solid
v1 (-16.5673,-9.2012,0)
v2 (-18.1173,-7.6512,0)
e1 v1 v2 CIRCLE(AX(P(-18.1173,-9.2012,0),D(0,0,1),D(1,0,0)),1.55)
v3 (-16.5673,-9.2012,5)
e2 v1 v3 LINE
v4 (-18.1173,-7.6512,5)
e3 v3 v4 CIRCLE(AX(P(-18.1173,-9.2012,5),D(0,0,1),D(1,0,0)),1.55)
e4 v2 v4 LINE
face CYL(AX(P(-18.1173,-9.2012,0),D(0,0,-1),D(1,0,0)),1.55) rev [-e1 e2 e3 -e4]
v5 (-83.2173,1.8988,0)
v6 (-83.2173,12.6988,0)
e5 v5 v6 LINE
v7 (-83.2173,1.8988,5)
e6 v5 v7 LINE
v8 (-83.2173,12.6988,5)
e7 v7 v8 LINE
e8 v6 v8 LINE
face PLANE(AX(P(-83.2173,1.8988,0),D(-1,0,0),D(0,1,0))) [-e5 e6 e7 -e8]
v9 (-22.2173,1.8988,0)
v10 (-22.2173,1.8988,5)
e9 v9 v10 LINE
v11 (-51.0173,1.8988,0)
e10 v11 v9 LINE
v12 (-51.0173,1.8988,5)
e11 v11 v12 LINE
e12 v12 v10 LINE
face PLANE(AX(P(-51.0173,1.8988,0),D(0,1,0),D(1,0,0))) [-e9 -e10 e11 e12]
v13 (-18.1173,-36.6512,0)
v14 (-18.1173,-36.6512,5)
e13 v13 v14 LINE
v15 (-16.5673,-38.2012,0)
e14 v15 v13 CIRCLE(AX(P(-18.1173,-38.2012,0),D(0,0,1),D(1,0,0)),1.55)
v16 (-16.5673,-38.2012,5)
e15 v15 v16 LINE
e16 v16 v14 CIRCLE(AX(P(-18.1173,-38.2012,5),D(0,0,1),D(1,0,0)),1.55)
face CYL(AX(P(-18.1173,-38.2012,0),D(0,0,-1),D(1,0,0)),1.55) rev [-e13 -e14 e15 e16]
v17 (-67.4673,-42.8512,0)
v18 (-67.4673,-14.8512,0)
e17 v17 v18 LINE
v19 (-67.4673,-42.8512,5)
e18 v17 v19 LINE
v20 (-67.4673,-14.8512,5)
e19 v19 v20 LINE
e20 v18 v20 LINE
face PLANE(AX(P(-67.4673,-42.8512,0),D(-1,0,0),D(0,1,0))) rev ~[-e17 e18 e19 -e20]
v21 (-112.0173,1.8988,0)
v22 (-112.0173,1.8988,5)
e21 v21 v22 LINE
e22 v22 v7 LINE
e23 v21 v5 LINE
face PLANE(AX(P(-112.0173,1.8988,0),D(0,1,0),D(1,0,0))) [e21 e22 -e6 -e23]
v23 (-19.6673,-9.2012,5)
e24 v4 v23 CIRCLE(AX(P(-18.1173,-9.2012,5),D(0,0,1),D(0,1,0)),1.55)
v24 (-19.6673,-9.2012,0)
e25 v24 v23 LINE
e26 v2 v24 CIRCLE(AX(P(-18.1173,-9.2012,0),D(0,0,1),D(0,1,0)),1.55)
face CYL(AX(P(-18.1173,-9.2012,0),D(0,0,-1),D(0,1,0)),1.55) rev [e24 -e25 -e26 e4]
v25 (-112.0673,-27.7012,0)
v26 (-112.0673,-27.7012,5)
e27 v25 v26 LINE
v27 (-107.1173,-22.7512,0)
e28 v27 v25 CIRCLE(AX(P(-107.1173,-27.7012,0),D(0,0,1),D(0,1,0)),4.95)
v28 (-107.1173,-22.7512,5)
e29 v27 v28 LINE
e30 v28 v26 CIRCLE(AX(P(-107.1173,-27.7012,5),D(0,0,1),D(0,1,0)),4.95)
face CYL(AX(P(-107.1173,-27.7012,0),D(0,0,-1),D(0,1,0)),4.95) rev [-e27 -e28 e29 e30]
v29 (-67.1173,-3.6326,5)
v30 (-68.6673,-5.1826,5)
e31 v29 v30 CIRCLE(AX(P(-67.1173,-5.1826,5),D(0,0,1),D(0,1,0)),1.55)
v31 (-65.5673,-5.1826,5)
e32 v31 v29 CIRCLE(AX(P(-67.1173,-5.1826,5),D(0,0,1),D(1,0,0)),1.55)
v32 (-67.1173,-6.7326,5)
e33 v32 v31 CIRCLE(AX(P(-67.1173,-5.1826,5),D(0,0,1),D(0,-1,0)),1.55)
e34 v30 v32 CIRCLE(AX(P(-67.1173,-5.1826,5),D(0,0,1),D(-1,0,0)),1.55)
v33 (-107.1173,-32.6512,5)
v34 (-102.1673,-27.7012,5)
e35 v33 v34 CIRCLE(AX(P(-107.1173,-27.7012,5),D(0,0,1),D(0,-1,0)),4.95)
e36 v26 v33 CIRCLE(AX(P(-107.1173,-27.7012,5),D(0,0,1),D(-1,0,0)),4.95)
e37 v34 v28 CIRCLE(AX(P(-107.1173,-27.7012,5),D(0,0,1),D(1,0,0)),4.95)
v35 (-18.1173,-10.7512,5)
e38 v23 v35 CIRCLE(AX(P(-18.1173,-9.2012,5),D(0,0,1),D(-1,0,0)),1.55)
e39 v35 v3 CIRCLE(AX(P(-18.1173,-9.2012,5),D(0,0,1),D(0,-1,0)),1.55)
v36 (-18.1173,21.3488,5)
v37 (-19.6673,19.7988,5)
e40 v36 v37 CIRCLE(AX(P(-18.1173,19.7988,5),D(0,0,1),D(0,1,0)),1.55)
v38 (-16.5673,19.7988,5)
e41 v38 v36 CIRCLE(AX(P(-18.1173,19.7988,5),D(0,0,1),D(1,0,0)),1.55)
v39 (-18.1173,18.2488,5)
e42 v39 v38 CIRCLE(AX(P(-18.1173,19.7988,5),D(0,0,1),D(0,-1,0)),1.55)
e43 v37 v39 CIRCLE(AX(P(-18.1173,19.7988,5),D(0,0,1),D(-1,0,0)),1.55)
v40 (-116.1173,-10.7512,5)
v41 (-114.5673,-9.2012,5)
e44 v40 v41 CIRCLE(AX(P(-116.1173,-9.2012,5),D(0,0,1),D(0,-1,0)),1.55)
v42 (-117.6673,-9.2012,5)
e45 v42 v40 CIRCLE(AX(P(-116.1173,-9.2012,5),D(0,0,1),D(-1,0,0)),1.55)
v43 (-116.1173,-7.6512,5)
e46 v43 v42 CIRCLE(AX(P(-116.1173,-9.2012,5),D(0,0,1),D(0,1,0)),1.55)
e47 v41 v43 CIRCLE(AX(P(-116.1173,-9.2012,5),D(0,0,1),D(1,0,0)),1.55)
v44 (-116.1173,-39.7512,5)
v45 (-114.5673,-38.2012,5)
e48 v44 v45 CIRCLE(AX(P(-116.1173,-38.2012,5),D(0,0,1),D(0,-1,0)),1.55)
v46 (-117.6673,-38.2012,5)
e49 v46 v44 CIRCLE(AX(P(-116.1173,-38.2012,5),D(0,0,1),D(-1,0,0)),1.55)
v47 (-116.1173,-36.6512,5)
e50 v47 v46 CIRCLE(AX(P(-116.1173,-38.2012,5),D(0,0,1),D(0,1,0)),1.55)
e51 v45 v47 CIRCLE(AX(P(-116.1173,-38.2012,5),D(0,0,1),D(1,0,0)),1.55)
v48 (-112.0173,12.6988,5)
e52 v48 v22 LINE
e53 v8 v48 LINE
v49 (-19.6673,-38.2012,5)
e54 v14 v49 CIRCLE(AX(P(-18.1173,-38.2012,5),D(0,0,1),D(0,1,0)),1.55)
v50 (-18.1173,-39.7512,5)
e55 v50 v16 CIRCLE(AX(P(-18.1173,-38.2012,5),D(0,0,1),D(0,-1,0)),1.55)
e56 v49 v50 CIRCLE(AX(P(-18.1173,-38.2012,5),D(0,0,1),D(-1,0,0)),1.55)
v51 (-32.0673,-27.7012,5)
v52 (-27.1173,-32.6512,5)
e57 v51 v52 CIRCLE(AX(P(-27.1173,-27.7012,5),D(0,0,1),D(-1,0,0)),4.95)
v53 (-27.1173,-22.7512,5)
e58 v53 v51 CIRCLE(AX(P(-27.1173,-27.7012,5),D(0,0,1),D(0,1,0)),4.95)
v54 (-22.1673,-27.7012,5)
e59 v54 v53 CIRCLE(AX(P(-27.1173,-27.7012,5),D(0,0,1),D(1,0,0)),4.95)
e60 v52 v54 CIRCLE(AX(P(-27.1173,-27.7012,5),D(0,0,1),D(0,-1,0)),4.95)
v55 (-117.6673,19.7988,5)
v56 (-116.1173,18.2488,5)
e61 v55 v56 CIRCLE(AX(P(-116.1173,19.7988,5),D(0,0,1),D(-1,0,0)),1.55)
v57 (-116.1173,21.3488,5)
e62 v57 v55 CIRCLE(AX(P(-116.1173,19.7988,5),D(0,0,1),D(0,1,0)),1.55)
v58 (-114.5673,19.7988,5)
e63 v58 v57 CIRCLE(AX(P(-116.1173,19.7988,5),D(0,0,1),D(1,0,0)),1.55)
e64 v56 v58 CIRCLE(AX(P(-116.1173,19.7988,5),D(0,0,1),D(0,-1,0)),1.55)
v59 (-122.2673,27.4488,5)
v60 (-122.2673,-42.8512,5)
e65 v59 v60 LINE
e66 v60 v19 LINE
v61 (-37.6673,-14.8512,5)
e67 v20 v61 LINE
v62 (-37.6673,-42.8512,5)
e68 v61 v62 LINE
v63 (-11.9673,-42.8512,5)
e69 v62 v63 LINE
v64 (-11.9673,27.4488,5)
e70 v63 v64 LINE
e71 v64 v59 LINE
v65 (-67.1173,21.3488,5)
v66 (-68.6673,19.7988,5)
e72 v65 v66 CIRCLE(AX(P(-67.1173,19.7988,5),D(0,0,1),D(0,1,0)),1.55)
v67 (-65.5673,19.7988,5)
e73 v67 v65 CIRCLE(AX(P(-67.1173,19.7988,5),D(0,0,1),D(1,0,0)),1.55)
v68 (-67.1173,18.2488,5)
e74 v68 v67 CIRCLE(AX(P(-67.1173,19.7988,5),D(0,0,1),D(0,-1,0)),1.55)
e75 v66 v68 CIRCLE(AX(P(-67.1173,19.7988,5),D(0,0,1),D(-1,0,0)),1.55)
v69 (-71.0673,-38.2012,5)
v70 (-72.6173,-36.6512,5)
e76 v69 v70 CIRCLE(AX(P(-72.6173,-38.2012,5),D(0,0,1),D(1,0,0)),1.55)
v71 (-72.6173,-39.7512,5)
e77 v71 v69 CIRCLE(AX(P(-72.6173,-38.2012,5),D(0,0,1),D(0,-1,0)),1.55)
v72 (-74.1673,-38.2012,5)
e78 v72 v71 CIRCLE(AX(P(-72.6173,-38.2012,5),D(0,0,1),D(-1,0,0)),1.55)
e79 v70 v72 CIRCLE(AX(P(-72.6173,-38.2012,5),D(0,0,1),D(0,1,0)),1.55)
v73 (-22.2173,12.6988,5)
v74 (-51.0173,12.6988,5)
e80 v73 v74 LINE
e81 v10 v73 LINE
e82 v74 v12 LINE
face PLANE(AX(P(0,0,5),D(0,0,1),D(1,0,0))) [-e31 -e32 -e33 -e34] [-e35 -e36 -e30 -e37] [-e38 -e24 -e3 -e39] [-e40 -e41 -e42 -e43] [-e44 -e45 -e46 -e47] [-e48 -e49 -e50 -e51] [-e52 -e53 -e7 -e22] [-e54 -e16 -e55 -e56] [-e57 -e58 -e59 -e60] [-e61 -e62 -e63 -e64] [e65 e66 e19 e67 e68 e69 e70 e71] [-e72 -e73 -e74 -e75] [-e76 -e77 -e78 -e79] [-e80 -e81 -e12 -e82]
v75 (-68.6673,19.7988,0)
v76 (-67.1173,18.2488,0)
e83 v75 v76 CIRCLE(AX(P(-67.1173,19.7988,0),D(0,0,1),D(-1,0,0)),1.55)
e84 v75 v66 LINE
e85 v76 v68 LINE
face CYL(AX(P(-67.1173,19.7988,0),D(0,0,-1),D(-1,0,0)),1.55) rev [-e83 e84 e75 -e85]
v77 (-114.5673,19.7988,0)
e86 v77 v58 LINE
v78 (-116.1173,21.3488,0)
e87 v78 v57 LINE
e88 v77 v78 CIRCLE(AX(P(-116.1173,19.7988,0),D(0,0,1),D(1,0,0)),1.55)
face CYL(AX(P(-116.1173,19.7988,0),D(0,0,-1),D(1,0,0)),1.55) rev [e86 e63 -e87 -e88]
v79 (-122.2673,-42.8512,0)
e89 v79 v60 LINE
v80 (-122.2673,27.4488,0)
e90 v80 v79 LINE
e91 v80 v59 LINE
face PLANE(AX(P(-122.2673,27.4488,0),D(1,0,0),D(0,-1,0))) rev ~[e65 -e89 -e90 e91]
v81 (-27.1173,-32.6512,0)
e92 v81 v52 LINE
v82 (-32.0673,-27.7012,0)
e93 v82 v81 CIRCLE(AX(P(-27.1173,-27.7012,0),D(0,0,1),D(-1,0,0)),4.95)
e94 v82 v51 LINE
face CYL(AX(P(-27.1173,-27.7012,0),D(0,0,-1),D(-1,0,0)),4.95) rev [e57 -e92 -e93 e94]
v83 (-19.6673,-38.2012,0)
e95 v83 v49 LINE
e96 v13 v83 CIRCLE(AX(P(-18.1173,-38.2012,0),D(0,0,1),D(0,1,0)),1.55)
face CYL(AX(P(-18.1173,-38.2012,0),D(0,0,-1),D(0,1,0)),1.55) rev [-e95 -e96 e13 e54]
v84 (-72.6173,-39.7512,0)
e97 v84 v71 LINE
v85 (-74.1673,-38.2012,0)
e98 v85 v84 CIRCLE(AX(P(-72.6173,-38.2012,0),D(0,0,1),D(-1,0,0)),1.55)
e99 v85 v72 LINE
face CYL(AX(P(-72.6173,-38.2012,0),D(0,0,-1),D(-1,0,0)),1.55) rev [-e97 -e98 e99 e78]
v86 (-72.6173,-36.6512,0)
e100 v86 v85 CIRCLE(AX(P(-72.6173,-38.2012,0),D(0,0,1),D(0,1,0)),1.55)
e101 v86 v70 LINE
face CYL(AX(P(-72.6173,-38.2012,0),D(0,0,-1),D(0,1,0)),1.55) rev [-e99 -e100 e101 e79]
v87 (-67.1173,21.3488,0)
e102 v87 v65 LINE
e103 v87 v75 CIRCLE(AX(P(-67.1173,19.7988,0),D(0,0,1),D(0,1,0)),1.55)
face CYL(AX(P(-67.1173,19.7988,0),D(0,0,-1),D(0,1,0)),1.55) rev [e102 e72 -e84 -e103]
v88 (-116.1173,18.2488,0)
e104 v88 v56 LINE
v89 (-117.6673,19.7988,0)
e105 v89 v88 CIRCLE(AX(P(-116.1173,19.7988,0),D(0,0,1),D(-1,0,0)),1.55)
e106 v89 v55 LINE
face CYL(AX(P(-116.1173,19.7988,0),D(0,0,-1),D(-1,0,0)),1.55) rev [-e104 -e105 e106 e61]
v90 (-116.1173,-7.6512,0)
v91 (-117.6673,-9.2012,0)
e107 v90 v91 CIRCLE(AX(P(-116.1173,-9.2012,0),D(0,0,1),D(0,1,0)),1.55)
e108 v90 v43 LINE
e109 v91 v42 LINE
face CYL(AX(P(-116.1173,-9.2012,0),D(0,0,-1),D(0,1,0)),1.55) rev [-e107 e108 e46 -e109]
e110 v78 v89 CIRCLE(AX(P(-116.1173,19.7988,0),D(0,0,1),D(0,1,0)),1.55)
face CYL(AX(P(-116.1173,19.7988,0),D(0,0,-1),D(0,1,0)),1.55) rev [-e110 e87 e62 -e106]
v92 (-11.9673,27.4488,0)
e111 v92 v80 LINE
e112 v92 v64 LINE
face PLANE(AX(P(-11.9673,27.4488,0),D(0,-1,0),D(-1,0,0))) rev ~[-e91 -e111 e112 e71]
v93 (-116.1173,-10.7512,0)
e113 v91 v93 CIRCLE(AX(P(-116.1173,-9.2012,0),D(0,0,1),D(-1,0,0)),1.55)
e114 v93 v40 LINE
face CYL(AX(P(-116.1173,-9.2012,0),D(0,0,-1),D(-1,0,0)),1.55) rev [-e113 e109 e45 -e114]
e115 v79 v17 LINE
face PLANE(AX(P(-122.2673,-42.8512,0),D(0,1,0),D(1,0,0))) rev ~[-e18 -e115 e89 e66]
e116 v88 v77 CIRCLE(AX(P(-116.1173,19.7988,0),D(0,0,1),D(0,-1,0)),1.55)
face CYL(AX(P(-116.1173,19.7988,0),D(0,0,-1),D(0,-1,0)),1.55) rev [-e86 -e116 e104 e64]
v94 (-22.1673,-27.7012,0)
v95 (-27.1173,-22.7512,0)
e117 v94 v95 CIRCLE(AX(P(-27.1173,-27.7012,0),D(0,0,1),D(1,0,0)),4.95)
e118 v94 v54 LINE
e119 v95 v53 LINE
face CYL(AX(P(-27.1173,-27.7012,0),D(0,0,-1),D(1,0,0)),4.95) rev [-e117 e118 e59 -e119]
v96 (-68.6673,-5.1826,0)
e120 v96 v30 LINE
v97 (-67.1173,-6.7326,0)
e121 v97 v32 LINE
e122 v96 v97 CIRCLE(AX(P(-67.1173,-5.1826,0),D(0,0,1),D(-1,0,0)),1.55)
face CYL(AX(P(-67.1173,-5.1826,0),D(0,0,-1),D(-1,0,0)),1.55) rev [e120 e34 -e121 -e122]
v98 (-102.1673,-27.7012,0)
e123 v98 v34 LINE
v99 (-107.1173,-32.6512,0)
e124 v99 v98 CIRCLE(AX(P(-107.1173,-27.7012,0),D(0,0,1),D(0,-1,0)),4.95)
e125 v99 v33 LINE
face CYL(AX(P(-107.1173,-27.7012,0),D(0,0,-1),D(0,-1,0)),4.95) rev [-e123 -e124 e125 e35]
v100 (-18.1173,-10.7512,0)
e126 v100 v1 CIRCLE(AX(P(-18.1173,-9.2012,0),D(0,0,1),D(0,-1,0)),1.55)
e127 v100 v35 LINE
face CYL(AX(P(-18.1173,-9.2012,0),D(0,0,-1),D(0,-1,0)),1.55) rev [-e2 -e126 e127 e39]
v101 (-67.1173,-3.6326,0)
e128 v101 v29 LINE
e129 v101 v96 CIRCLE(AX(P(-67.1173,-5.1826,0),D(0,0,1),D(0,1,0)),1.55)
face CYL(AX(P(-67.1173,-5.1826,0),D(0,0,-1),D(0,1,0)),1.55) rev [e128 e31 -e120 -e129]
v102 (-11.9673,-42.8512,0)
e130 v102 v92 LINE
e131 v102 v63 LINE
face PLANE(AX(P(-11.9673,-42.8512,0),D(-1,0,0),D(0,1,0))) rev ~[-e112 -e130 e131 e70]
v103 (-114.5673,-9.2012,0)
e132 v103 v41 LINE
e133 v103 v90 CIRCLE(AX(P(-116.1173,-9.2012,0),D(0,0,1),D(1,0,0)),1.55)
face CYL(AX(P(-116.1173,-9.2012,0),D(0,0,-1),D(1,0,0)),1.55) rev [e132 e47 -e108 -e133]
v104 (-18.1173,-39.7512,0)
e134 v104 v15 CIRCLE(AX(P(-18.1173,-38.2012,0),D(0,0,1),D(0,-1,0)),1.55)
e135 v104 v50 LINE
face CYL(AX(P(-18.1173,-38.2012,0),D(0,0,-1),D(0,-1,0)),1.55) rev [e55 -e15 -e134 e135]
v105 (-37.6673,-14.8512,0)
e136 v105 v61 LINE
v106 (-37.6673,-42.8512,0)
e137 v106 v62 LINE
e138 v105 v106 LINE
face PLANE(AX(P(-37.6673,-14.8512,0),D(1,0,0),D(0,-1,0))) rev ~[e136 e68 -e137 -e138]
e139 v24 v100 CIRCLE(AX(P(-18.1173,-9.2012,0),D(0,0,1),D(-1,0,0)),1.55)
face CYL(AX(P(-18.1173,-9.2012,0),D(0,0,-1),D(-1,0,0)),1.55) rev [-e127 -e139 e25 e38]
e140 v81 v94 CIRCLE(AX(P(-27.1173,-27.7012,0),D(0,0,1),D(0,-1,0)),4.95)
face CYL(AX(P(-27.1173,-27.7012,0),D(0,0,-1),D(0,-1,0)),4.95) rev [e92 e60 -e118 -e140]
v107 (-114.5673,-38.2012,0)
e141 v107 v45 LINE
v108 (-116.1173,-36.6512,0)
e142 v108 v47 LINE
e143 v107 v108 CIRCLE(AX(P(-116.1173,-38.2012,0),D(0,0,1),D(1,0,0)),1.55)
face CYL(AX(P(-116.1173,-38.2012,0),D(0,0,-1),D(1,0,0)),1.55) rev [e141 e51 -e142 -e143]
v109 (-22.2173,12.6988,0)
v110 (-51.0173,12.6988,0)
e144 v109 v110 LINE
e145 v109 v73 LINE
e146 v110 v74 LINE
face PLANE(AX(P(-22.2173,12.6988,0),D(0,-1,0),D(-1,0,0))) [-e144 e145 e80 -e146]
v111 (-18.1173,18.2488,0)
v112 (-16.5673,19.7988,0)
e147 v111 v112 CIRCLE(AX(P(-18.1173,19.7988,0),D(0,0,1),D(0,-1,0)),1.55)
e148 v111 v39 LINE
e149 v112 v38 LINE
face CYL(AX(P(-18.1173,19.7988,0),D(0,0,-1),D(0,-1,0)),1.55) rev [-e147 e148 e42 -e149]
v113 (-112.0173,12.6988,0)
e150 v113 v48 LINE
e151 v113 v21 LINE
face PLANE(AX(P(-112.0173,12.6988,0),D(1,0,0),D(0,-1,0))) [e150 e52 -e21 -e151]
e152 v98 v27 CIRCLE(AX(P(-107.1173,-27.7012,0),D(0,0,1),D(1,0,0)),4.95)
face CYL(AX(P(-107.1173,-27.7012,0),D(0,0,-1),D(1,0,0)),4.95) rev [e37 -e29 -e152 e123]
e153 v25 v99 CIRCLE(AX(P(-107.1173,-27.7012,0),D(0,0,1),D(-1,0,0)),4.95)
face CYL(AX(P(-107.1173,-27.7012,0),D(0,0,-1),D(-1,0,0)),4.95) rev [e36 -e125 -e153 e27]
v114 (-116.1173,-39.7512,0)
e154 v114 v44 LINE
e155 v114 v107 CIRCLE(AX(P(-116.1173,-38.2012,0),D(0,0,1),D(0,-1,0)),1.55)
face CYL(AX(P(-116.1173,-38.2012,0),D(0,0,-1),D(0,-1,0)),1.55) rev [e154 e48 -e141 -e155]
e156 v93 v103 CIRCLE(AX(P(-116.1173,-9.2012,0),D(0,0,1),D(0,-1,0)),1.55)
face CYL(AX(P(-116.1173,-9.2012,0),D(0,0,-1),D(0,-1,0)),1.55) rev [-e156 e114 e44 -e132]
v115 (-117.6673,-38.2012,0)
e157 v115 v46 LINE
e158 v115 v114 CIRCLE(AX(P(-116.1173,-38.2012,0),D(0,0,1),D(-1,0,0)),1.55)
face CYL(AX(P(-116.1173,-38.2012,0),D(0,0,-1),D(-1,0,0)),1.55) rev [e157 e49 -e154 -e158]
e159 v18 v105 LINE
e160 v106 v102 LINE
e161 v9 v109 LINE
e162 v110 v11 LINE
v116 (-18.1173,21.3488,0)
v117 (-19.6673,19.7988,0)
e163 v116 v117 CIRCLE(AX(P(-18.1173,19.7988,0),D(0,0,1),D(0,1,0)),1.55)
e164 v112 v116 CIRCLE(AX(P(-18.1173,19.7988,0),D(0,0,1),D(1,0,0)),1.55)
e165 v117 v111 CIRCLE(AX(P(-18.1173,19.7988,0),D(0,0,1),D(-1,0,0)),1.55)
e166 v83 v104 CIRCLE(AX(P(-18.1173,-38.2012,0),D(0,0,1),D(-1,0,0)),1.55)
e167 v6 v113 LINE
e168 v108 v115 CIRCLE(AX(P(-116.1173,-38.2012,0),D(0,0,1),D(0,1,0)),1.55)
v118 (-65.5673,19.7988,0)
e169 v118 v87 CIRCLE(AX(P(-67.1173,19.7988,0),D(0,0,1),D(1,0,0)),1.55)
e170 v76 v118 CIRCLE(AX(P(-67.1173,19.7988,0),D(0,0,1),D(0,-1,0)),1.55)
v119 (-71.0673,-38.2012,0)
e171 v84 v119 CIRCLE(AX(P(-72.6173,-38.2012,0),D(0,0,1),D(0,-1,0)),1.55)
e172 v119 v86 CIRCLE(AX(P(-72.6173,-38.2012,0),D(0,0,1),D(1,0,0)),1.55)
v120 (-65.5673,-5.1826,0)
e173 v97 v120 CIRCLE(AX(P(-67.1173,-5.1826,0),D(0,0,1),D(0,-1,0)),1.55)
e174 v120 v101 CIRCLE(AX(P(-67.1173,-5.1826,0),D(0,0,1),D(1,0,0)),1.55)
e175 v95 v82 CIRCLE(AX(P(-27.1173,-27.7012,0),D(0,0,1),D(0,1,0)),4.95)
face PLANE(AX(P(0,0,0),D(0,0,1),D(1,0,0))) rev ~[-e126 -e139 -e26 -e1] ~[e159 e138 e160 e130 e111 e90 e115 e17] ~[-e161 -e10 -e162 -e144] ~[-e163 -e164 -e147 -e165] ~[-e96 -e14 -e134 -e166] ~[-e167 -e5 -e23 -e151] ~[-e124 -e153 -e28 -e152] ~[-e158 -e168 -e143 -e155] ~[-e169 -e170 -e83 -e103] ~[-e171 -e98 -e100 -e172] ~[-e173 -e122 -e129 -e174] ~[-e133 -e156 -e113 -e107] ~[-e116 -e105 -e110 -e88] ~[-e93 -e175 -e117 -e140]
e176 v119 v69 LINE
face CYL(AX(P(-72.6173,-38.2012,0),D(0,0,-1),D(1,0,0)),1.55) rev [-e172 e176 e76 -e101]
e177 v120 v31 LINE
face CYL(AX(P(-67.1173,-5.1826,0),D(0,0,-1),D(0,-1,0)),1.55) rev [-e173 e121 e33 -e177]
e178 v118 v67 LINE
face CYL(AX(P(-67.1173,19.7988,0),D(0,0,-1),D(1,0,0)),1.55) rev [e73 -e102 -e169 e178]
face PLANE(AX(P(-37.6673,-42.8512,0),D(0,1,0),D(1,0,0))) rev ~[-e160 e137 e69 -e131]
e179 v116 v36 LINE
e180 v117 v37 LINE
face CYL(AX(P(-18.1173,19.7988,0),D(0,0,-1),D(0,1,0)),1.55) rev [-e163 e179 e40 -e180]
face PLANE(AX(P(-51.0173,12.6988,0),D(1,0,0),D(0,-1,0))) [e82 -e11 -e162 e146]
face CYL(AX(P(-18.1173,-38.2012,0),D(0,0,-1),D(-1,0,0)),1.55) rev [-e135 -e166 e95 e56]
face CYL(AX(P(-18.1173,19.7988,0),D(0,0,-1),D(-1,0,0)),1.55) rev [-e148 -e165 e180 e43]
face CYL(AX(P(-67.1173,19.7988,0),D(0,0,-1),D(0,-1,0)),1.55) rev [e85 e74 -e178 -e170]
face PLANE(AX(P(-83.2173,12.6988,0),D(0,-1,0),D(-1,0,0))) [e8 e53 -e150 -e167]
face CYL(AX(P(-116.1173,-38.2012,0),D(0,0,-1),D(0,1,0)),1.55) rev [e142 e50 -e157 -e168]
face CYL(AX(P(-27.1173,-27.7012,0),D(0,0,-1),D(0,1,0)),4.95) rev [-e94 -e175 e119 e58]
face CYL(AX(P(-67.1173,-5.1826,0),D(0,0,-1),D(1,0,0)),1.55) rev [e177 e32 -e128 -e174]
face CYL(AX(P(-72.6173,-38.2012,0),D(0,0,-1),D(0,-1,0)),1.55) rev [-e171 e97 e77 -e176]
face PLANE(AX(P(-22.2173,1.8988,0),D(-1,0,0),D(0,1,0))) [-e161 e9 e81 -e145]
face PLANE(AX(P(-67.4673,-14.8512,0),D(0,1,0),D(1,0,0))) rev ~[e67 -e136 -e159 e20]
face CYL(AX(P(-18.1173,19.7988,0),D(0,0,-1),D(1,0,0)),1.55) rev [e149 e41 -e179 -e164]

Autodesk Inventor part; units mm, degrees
ref_plane "YZ Plane" through (0, 0, 0) normal (1, 0, 0) x (0, 1, 0)
ref_plane "XZ Plane" through (0, 0, 0) normal (0, 1, 0) x (-1, 0, 0)
ref_plane "XY Plane" through (0, 0, 0) normal (0, 0, 1) x (1, 0, 0)
sketch "Boceto1" plane through (0, 0, 0) normal (0, 0, 1) x (1, 0, 0)
  arc A0 (-18.1173, 21.3488) -> (-19.6673, 19.7988) centre (-18.1173, 19.7988) ccw
  arc A1 (-19.6673, 19.7988) -> (-18.1173, 18.2488) centre (-18.1173, 19.7988) ccw
  arc A2 (-18.1173, 18.2488) -> (-16.5673, 19.7988) centre (-18.1173, 19.7988) ccw
  arc A3 (-16.5673, 19.7988) -> (-18.1173, 21.3488) centre (-18.1173, 19.7988) ccw
  arc A4 (-18.1173, -7.6512) -> (-19.6673, -9.2012) centre (-18.1173, -9.2012) ccw
  arc A5 (-19.6673, -9.2012) -> (-18.1173, -10.7512) centre (-18.1173, -9.2012) ccw
  arc A6 (-18.1173, -10.7512) -> (-16.5673, -9.2012) centre (-18.1173, -9.2012) ccw
  arc A7 (-16.5673, -9.2012) -> (-18.1173, -7.6512) centre (-18.1173, -9.2012) ccw
  arc A8 (-18.1173, -36.6512) -> (-19.6673, -38.2012) centre (-18.1173, -38.2012) ccw
  arc A9 (-19.6673, -38.2012) -> (-18.1173, -39.7512) centre (-18.1173, -38.2012) ccw
  arc A10 (-18.1173, -39.7512) -> (-16.5673, -38.2012) centre (-18.1173, -38.2012) ccw
  arc A11 (-16.5673, -38.2012) -> (-18.1173, -36.6512) centre (-18.1173, -38.2012) ccw
  arc A12 (-67.1173, 21.3488) -> (-68.6673, 19.7988) centre (-67.1173, 19.7988) ccw
  arc A13 (-68.6673, 19.7988) -> (-67.1173, 18.2488) centre (-67.1173, 19.7988) ccw
  arc A14 (-67.1173, 18.2488) -> (-65.5673, 19.7988) centre (-67.1173, 19.7988) ccw
  arc A15 (-65.5673, 19.7988) -> (-67.1173, 21.3488) centre (-67.1173, 19.7988) ccw
  arc A16 (-67.1173, -3.6326) -> (-68.6673, -5.1826) centre (-67.1173, -5.1826) ccw
  arc A17 (-68.6673, -5.1826) -> (-67.1173, -6.7326) centre (-67.1173, -5.1826) ccw
  arc A18 (-67.1173, -6.7326) -> (-65.5673, -5.1826) centre (-67.1173, -5.1826) ccw
  arc A19 (-65.5673, -5.1826) -> (-67.1173, -3.6326) centre (-67.1173, -5.1826) ccw
  arc A20 (-72.6173, -36.6512) -> (-74.1673, -38.2012) centre (-72.6173, -38.2012) ccw
  arc A21 (-74.1673, -38.2012) -> (-72.6173, -39.7512) centre (-72.6173, -38.2012) ccw
  arc A22 (-72.6173, -39.7512) -> (-71.0673, -38.2012) centre (-72.6173, -38.2012) ccw
  arc A23 (-71.0673, -38.2012) -> (-72.6173, -36.6512) centre (-72.6173, -38.2012) ccw
  arc A24 (-116.1173, 21.3488) -> (-117.6673, 19.7988) centre (-116.1173, 19.7988) ccw
  arc A25 (-117.6673, 19.7988) -> (-116.1173, 18.2488) centre (-116.1173, 19.7988) ccw
  arc A26 (-116.1173, 18.2488) -> (-114.5673, 19.7988) centre (-116.1173, 19.7988) ccw
  arc A27 (-114.5673, 19.7988) -> (-116.1173, 21.3488) centre (-116.1173, 19.7988) ccw
  arc A28 (-116.1173, -7.6512) -> (-117.6673, -9.2012) centre (-116.1173, -9.2012) ccw
  arc A29 (-117.6673, -9.2012) -> (-116.1173, -10.7512) centre (-116.1173, -9.2012) ccw
  arc A30 (-116.1173, -10.7512) -> (-114.5673, -9.2012) centre (-116.1173, -9.2012) ccw
  arc A31 (-114.5673, -9.2012) -> (-116.1173, -7.6512) centre (-116.1173, -9.2012) ccw
  arc A32 (-116.1173, -36.6512) -> (-117.6673, -38.2012) centre (-116.1173, -38.2012) ccw
  arc A33 (-117.6673, -38.2012) -> (-116.1173, -39.7512) centre (-116.1173, -38.2012) ccw
  arc A34 (-116.1173, -39.7512) -> (-114.5673, -38.2012) centre (-116.1173, -38.2012) ccw
  arc A35 (-114.5673, -38.2012) -> (-116.1173, -36.6512) centre (-116.1173, -38.2012) ccw
  arc A36 (-107.1173, -22.7512) -> (-112.0673, -27.7012) centre (-107.1173, -27.7012) ccw
  arc A37 (-112.0673, -27.7012) -> (-107.1173, -32.6512) centre (-107.1173, -27.7012) ccw
  arc A38 (-107.1173, -32.6512) -> (-102.1673, -27.7012) centre (-107.1173, -27.7012) ccw
  arc A39 (-102.1673, -27.7012) -> (-107.1173, -22.7512) centre (-107.1173, -27.7012) ccw
  arc A40 (-27.1173, -22.7512) -> (-32.0673, -27.7012) centre (-27.1173, -27.7012) ccw
  arc A41 (-32.0673, -27.7012) -> (-27.1173, -32.6512) centre (-27.1173, -27.7012) ccw
  arc A42 (-27.1173, -32.6512) -> (-22.1673, -27.7012) centre (-27.1173, -27.7012) ccw
  arc A43 (-22.1673, -27.7012) -> (-27.1173, -22.7512) centre (-27.1173, -27.7012) ccw
  line L0 (-83.2173, 1.8988) -> (-83.2173, 12.6988)
  line L1 (-83.2173, 12.6988) -> (-112.0173, 12.6988)
  line L2 (-112.0173, 12.6988) -> (-112.0173, 1.8988)
  line L3 (-112.0173, 1.8988) -> (-83.2173, 1.8988)
  line L4 (-22.2173, 1.8988) -> (-22.2173, 12.6988)
  line L5 (-22.2173, 12.6988) -> (-51.0173, 12.6988)
  line L6 (-51.0173, 12.6988) -> (-51.0173, 1.8988)
  line L7 (-51.0173, 1.8988) -> (-22.2173, 1.8988)
  line L8 (-67.4673, -14.8512) -> (-37.6673, -14.8512)
  line L9 (-37.6673, -14.8512) -> (-37.6673, -42.8512)
  line L10 (-37.6673, -42.8512) -> (-11.9673, -42.8512)
  line L11 (-11.9673, -42.8512) -> (-11.9673, 27.4488)
  line L12 (-11.9673, 27.4488) -> (-122.2673, 27.4488)
  line L13 (-122.2673, 27.4488) -> (-122.2673, -42.8512)
  line L14 (-122.2673, -42.8512) -> (-67.4673, -42.8512)
  line L15 (-67.4673, -42.8512) -> (-67.4673, -14.8512)
  point P0 (0, 0)
extrude "Extrusión1" add sketch "Boceto1" along normal blind 5
properties part number "carro x lado polea pieza4 tapa"
